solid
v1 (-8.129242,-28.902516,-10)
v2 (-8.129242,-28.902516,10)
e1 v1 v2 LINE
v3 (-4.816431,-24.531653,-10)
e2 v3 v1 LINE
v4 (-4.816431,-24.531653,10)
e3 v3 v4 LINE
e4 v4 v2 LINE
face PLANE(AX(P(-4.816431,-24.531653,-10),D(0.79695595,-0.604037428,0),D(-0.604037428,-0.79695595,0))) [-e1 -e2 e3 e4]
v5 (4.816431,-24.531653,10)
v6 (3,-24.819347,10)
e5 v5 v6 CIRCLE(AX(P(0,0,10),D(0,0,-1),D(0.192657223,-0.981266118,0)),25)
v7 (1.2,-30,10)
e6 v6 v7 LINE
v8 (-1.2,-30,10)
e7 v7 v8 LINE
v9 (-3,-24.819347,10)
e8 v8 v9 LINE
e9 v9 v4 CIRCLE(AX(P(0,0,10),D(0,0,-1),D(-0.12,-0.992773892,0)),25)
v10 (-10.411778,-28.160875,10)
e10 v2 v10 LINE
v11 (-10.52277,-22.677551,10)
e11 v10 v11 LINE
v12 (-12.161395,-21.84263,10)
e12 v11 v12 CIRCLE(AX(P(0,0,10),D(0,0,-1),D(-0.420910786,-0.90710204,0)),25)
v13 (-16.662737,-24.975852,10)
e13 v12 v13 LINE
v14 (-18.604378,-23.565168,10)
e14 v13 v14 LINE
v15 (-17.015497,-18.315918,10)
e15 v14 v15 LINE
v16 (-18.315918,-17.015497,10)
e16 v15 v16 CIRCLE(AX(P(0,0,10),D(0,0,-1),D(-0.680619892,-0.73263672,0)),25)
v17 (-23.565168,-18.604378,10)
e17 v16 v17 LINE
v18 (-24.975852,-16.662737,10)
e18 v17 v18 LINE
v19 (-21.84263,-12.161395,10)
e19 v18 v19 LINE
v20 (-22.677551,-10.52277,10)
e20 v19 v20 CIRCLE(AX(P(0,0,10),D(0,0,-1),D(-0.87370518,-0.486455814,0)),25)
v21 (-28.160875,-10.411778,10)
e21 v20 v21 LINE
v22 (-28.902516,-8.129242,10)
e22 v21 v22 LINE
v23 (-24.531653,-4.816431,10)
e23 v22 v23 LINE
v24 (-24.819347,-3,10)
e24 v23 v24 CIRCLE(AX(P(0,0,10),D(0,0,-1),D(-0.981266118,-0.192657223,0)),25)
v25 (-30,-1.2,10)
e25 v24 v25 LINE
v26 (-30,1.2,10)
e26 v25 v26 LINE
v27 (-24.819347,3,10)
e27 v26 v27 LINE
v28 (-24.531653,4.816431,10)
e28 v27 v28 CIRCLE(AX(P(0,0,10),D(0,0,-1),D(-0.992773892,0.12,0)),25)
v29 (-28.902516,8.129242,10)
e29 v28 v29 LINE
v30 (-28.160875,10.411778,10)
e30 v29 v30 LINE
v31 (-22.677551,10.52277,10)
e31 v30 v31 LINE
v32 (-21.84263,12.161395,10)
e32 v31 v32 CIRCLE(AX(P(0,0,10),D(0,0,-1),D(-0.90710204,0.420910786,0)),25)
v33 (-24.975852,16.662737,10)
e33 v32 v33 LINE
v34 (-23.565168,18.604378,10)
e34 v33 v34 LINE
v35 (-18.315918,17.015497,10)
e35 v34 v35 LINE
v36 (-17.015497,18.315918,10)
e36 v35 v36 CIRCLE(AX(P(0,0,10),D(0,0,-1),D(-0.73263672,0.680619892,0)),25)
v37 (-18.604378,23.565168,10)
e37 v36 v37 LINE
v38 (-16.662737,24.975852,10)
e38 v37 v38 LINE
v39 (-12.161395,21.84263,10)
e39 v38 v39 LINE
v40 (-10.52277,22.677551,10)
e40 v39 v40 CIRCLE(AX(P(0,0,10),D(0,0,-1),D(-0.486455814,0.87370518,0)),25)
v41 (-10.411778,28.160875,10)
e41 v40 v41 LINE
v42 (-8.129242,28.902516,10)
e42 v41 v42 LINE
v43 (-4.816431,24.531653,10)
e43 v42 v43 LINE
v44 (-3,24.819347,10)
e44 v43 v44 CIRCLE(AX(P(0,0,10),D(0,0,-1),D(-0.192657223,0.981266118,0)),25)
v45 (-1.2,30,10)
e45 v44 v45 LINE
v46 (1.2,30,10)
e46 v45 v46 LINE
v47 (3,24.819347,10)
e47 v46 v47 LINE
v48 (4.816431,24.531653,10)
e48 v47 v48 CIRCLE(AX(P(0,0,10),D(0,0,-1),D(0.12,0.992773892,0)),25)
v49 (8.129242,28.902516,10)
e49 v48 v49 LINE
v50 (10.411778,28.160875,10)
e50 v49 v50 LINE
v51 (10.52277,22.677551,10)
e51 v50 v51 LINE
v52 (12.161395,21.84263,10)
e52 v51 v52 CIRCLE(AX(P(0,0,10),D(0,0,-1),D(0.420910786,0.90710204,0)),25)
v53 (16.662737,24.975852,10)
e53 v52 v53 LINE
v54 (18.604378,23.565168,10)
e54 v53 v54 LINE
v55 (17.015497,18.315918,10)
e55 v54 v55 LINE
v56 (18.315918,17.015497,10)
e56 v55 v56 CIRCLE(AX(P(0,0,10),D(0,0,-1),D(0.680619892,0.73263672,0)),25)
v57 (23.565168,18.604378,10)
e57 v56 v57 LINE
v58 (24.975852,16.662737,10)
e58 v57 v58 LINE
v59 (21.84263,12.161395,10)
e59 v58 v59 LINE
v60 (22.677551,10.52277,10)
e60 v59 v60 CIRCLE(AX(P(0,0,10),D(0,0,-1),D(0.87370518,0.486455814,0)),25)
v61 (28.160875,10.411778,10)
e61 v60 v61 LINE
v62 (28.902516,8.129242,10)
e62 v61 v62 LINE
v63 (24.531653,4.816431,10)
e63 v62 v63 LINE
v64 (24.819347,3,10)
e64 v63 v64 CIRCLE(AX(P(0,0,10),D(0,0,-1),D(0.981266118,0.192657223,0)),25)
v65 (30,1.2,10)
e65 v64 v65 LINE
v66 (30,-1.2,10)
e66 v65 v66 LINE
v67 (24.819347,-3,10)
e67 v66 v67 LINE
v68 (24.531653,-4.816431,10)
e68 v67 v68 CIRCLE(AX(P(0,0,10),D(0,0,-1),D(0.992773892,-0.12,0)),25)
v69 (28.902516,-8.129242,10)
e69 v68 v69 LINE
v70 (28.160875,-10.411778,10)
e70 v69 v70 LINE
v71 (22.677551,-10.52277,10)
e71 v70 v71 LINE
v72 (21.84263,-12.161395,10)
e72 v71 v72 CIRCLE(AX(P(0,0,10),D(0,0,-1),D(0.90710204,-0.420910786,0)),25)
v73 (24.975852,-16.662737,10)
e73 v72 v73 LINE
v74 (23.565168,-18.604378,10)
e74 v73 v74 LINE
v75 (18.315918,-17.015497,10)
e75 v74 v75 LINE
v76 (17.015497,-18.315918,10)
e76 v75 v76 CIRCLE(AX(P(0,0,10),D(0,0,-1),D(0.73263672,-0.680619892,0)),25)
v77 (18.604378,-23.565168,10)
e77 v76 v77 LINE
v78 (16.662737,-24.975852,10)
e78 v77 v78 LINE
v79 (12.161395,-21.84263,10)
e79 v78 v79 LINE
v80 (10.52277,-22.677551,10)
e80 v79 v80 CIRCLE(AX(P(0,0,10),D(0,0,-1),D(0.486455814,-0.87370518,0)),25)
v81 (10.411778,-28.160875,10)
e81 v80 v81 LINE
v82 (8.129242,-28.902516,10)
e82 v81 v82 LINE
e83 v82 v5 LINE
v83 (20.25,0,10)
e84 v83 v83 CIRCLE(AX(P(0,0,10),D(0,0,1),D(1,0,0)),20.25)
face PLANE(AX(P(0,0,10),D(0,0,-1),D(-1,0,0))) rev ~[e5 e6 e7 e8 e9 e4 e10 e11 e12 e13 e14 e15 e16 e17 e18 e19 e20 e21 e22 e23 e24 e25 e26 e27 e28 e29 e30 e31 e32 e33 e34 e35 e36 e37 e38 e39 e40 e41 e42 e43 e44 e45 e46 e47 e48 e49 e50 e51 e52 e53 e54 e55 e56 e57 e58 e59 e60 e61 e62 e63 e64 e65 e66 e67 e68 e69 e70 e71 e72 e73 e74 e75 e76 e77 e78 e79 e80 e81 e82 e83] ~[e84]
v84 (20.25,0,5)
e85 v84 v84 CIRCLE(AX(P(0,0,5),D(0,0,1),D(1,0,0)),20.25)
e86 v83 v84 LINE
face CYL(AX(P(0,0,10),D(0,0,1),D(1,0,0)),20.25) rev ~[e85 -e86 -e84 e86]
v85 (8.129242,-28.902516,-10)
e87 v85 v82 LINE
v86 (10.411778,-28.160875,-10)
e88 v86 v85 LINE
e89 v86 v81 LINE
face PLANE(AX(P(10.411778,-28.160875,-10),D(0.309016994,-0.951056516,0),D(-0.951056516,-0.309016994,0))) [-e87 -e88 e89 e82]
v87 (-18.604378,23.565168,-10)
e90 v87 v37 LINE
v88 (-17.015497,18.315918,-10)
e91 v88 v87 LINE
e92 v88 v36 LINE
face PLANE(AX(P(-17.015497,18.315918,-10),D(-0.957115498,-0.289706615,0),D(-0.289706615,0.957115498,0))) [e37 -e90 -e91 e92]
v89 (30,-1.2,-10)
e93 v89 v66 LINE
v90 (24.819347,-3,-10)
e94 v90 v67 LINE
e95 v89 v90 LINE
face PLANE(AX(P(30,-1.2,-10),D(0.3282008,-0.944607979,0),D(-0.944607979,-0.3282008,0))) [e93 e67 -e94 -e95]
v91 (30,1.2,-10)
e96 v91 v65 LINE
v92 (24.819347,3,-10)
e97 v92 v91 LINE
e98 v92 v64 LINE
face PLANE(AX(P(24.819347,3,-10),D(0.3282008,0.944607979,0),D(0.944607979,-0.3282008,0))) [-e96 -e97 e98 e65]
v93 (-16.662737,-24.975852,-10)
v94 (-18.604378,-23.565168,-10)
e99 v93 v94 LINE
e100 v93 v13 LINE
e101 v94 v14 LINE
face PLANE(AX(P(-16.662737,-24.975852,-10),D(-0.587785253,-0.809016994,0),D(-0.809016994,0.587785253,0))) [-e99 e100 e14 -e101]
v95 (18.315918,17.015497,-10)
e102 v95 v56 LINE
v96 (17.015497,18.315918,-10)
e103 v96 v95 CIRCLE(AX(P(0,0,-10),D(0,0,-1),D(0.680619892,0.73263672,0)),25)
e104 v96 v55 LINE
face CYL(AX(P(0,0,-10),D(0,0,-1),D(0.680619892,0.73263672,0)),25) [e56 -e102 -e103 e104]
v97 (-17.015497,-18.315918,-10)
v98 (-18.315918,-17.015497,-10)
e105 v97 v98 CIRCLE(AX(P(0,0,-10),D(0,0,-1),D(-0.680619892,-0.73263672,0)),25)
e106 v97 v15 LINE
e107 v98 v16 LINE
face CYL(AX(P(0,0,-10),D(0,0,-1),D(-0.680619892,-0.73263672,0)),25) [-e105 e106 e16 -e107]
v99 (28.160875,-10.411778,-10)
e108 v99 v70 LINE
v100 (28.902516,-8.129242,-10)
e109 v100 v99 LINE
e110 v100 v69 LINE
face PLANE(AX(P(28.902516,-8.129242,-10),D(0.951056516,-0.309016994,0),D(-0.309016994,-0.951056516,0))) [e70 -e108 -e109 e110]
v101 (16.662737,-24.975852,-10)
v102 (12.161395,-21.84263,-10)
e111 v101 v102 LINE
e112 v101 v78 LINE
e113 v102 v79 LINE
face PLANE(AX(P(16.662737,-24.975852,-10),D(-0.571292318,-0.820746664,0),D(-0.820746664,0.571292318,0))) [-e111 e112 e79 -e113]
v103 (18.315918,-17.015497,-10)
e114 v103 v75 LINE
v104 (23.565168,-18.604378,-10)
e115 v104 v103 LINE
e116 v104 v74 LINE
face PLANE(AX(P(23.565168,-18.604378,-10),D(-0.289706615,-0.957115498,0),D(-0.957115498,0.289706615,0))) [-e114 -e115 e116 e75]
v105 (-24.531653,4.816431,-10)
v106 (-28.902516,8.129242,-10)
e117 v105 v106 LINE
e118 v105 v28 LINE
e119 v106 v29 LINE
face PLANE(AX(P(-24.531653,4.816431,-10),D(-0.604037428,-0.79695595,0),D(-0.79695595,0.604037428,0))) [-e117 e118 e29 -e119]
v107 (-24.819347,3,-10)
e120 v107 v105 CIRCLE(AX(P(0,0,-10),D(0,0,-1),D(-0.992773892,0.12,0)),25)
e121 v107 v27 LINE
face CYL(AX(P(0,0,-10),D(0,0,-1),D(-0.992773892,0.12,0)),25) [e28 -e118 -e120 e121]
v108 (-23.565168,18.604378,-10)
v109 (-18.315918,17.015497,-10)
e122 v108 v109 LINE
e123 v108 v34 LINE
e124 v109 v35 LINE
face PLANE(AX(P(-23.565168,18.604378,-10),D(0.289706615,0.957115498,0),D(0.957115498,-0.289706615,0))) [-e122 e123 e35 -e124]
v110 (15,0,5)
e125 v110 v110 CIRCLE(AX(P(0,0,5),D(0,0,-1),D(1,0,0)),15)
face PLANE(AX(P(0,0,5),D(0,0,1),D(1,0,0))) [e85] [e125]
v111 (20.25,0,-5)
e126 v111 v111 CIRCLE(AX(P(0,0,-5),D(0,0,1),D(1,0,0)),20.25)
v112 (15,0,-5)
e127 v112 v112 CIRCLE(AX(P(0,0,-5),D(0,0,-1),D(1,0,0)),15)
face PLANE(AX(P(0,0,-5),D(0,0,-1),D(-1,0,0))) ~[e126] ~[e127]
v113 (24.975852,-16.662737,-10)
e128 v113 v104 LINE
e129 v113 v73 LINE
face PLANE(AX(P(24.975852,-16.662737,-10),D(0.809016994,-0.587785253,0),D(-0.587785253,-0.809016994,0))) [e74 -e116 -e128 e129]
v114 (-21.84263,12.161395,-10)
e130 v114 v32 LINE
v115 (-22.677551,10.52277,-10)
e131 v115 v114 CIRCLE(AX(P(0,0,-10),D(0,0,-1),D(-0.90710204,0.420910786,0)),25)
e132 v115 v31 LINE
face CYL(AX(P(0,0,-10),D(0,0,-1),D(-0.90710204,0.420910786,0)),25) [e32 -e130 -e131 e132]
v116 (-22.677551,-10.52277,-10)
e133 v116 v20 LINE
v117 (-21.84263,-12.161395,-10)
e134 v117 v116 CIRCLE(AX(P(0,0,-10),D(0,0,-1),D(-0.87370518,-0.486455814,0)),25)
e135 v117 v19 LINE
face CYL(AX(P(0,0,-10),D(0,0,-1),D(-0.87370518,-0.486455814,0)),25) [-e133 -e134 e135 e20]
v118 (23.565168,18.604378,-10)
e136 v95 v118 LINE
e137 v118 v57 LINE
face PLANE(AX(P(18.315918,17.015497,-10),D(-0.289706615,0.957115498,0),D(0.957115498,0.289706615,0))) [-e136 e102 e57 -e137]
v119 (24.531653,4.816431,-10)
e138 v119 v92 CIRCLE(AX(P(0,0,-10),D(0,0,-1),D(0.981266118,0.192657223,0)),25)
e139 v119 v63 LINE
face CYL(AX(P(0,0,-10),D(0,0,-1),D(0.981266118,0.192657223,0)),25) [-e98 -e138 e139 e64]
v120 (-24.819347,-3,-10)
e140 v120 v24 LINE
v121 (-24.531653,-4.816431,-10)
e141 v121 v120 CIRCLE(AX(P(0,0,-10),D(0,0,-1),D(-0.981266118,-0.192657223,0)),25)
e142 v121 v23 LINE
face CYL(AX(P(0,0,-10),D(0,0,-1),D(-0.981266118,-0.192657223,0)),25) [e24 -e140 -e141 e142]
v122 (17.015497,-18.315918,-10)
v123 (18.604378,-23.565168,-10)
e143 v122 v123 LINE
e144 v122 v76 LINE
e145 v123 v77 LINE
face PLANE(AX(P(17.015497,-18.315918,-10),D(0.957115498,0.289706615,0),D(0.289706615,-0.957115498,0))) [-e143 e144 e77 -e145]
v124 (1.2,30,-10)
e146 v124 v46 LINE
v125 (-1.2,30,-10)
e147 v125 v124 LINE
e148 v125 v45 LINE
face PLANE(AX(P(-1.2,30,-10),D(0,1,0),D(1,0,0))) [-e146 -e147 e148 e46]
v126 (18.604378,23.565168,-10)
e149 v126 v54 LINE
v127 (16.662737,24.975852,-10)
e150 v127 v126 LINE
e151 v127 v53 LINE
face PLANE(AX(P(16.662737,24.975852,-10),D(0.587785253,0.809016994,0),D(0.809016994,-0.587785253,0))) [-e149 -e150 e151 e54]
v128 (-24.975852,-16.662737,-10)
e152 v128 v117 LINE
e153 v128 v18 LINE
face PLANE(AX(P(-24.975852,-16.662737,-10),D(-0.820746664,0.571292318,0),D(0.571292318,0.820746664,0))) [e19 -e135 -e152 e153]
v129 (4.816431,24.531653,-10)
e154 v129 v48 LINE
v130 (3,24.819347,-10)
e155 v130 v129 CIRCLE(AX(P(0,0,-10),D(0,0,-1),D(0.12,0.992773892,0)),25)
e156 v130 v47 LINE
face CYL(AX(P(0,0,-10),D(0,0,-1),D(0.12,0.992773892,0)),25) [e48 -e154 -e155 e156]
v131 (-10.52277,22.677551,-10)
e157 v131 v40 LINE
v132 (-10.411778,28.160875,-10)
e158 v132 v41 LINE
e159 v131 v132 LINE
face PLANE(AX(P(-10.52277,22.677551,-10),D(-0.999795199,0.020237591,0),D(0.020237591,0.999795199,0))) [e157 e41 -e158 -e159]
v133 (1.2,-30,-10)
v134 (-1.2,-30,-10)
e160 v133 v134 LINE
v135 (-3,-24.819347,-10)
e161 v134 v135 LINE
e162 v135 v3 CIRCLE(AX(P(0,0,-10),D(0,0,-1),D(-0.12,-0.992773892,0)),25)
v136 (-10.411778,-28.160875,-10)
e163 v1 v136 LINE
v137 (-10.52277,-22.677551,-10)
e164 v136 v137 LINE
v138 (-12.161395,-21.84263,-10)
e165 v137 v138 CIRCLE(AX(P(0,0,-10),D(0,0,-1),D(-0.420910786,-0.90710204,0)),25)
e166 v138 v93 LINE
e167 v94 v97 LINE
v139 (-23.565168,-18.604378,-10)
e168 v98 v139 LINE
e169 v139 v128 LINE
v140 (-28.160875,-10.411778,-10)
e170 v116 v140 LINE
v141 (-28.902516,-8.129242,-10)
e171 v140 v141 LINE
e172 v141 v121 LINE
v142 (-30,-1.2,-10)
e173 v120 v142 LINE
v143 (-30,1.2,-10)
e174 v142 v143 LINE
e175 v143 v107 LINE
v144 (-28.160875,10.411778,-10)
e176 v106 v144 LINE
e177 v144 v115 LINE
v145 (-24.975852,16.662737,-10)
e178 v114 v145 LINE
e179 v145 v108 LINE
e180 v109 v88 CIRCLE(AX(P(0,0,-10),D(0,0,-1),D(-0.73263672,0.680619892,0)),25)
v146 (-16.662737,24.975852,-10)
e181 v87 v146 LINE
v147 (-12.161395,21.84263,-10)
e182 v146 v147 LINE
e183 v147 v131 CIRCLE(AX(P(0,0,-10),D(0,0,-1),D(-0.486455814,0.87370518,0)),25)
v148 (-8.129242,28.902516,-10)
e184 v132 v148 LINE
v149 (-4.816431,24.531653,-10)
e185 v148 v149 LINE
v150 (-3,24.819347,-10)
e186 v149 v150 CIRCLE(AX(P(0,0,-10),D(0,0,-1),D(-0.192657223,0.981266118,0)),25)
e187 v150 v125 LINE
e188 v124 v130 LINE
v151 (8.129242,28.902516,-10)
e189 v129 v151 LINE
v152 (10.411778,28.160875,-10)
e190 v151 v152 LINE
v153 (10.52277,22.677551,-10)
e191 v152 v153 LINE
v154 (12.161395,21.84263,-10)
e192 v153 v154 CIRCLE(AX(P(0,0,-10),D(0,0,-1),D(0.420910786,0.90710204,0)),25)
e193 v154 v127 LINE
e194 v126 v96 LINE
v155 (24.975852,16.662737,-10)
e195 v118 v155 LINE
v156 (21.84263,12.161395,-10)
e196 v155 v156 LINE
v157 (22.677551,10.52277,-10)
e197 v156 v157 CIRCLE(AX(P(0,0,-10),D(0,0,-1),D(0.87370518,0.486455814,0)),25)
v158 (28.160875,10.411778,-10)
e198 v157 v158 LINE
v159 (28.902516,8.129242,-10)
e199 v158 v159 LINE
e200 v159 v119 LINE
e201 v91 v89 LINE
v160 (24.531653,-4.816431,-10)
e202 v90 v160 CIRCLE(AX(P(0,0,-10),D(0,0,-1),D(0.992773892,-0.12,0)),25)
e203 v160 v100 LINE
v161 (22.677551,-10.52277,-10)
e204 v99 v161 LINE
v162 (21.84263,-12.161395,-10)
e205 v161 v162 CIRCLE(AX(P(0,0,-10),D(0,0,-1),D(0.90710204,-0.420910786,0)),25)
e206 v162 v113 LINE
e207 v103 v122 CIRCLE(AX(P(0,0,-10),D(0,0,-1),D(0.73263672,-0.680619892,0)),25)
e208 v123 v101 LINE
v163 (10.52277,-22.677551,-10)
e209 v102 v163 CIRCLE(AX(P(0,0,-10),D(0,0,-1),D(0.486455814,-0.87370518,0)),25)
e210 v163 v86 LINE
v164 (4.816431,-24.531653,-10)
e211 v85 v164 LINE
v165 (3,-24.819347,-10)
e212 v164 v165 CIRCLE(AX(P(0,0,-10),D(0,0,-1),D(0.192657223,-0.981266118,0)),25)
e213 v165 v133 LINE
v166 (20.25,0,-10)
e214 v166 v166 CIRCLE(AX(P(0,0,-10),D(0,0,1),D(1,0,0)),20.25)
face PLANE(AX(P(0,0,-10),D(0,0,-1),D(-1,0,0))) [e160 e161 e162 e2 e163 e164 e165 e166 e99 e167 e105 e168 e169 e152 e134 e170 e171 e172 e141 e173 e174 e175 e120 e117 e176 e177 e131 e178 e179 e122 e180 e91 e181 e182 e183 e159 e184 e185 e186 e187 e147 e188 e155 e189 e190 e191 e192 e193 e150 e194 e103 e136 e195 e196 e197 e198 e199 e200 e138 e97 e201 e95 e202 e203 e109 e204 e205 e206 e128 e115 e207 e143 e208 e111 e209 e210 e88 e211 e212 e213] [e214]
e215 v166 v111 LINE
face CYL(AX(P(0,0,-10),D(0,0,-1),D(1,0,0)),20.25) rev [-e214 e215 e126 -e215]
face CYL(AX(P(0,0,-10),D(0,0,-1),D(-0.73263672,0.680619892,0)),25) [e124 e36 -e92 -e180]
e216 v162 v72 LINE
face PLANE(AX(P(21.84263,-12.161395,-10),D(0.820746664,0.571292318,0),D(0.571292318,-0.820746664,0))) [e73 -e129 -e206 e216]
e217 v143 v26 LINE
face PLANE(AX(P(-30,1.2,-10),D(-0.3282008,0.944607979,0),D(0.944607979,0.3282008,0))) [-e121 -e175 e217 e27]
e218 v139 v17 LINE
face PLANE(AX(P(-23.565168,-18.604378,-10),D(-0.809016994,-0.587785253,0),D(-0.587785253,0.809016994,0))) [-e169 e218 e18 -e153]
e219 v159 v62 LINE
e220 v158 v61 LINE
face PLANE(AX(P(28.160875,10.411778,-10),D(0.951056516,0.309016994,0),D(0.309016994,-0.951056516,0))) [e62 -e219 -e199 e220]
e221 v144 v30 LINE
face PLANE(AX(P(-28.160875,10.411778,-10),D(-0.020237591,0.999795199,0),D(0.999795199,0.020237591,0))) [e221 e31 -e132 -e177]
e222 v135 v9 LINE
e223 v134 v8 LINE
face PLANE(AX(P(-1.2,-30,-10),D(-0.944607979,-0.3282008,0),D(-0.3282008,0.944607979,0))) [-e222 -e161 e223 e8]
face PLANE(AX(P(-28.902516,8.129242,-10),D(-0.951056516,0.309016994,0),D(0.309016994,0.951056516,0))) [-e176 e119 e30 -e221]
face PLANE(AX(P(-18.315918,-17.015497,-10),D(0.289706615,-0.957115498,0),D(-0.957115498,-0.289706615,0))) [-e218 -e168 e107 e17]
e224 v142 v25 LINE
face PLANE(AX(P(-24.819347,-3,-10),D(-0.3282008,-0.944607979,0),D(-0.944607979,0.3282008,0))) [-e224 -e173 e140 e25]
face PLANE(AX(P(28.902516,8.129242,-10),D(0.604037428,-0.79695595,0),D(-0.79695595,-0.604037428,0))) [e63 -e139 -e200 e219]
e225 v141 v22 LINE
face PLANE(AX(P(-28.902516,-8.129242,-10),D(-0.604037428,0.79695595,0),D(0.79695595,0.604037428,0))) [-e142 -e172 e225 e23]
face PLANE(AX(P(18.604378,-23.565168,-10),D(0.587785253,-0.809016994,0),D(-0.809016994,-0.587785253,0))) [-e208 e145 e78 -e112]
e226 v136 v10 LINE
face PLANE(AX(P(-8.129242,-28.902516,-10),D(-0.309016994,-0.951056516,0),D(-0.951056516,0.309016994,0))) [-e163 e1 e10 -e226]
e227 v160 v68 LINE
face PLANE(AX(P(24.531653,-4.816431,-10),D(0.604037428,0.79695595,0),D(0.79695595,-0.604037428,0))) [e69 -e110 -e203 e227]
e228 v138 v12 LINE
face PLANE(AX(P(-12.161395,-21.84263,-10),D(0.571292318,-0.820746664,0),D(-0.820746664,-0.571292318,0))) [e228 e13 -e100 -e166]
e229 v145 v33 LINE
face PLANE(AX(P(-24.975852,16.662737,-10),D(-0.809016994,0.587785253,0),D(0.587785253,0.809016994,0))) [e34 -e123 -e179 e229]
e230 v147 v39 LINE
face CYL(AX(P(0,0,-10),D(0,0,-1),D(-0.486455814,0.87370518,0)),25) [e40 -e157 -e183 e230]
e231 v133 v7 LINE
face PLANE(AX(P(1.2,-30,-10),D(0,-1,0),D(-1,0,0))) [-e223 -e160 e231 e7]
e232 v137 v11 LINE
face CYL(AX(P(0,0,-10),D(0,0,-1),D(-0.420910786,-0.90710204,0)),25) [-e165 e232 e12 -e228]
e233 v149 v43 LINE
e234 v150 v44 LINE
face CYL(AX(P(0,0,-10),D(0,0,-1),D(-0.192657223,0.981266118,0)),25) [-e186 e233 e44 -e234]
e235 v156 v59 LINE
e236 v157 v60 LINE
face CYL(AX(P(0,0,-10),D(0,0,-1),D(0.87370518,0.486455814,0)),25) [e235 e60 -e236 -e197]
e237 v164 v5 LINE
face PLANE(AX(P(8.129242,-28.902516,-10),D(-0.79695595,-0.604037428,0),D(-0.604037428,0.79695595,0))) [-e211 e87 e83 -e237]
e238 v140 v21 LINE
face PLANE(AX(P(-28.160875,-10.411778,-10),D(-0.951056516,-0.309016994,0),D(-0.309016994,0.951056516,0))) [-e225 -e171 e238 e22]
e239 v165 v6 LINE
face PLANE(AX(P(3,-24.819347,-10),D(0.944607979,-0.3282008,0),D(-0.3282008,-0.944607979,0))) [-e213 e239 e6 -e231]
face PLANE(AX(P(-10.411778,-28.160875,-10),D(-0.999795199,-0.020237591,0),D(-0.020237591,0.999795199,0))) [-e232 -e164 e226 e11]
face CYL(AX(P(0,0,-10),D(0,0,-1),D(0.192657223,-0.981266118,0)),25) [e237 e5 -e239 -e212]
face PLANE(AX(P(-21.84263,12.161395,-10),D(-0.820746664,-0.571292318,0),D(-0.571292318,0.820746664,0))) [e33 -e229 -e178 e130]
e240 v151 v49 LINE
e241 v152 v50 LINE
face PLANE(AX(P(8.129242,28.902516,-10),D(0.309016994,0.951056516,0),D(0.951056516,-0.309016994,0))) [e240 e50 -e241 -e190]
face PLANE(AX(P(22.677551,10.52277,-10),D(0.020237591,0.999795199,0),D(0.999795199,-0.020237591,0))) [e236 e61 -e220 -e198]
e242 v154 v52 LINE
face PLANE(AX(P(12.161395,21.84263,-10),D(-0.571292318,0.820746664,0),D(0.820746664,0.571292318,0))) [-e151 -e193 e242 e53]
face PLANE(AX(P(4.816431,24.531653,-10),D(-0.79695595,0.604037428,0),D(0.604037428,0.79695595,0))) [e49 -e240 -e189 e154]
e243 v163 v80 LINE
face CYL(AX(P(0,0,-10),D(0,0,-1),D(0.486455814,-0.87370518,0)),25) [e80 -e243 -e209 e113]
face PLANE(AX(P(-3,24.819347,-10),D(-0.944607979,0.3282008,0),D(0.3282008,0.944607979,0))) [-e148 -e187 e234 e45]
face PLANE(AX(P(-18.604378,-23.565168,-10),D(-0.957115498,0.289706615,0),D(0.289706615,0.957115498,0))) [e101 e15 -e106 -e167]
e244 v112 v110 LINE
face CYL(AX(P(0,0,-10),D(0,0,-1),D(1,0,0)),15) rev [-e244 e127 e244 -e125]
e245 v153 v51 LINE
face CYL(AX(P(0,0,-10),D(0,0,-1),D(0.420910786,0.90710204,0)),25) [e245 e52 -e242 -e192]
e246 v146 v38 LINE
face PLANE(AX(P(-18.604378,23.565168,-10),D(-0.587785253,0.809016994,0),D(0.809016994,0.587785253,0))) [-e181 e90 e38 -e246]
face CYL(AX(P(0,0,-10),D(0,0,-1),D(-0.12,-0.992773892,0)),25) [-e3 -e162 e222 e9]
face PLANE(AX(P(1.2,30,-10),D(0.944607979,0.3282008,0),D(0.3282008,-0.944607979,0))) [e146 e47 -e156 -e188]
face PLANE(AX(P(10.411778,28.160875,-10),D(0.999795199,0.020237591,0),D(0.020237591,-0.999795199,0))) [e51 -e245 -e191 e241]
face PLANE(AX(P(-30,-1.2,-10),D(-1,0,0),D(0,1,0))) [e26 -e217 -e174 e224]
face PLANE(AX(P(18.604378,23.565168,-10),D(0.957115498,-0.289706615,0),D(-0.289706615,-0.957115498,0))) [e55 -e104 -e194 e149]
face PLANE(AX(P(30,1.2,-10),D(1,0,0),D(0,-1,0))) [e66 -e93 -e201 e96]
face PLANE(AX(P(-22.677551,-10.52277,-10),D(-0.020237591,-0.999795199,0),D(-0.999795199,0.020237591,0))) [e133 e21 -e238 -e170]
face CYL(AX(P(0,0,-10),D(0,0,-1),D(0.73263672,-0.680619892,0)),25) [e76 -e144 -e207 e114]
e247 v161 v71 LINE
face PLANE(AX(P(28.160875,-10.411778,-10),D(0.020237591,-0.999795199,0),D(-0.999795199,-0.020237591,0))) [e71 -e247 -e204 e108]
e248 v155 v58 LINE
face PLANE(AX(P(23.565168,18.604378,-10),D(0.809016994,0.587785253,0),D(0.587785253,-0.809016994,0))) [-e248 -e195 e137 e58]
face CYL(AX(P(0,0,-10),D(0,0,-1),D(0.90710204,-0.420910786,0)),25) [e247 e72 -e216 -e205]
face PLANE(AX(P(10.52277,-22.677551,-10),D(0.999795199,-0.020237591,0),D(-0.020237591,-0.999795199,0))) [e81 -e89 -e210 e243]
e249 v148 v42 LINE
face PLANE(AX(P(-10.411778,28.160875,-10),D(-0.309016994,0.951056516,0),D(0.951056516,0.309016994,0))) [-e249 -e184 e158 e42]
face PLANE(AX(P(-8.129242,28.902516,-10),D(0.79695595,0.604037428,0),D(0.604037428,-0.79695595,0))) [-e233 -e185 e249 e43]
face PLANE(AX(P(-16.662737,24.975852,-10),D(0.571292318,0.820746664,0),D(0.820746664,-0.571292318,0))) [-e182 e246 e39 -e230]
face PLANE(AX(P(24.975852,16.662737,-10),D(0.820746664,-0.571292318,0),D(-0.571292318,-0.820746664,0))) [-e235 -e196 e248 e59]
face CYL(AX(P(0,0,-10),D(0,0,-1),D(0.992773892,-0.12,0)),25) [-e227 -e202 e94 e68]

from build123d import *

# Parameters (mm, degrees)
BOSS_EXTRUDE1_DEPTH      = 10
BOSS_EXTRUDE1_DEPTH_BACK = 10
SKETCH1_R                = 15
SKETCH2_R                = 20.25
CUT_EXTRUDE1_DEPTH       = 5


with BuildPart() as part:
    # Sketch1 → Boss-Extrude1 (new, two sides: drawn at the far end of the back side and taken through both)
    with BuildSketch(Plane.XY.offset(-BOSS_EXTRUDE1_DEPTH_BACK)):
        with BuildLine():
            Line((-1.2, 30), (1.2, 30))
            Line((1.2, 30), (3, 24.819347292))
            ThreePointArc((3, 24.819347292), (3.910861626, 24.692208515), (4.816430554, 24.531652955))
            Line((4.816430554, 24.531652955), (8.129242012, 28.902515882))
            Line((8.129242012, 28.902515882), (10.411777651, 28.160875096))
            Line((10.411777651, 28.160875096), (10.522769651, 22.677550989))
            ThreePointArc((10.522769651, 22.677550989), (11.349762493, 22.275163105), (12.161395327, 21.842629505))
            Line((12.161395327, 21.842629505), (16.662737176, 24.975852134))
            Line((16.662737176, 24.975852134), (18.604377962, 23.565167528))
            Line((18.604377962, 23.565167528), (17.015497293, 18.315917992))
            ThreePointArc((17.015497293, 18.315917992), (17.67766953, 17.67766953), (18.315917992, 17.015497293))
            Line((18.315917992, 17.015497293), (23.565167528, 18.604377962))
            Line((23.565167528, 18.604377962), (24.975852134, 16.662737176))
            Line((24.975852134, 16.662737176), (21.842629505, 12.161395327))
            ThreePointArc((21.842629505, 12.161395327), (22.275163105, 11.349762493), (22.677550989, 10.522769651))
            Line((22.677550989, 10.522769651), (28.160875096, 10.411777651))
            Line((28.160875096, 10.411777651), (28.902515882, 8.129242012))
            Line((28.902515882, 8.129242012), (24.531652955, 4.816430554))
            ThreePointArc((24.531652955, 4.816430554), (24.692208515, 3.910861626), (24.819347292, 3))
            Line((24.819347292, 3), (30, 1.2))
            Line((30, 1.2), (30, -1.2))
            Line((30, -1.2), (24.819347292, -3))
            ThreePointArc((24.819347292, -3), (24.692208515, -3.910861626), (24.531652955, -4.816430554))
            Line((24.531652955, -4.816430554), (28.902515882, -8.129242012))
            Line((28.902515882, -8.129242012), (28.160875096, -10.411777651))
            Line((28.160875096, -10.411777651), (22.677550989, -10.522769651))
            ThreePointArc((22.677550989, -10.522769651), (22.275163105, -11.349762493), (21.842629505, -12.161395327))
            Line((21.842629505, -12.161395327), (24.975852134, -16.662737176))
            Line((24.975852134, -16.662737176), (23.565167528, -18.604377962))
            Line((23.565167528, -18.604377962), (18.315917992, -17.015497293))
            ThreePointArc((18.315917992, -17.015497293), (17.67766953, -17.67766953), (17.015497293, -18.315917992))
            Line((17.015497293, -18.315917992), (18.604377962, -23.565167528))
            Line((18.604377962, -23.565167528), (16.662737176, -24.975852134))
            Line((16.662737176, -24.975852134), (12.161395327, -21.842629505))
            ThreePointArc((12.161395327, -21.842629505), (11.349762493, -22.275163105), (10.522769651, -22.677550989))
            Line((10.522769651, -22.677550989), (10.411777651, -28.160875096))
            Line((10.411777651, -28.160875096), (8.129242012, -28.902515882))
            Line((8.129242012, -28.902515882), (4.816430554, -24.531652955))
            ThreePointArc((4.816430554, -24.531652955), (3.910861626, -24.692208515), (3, -24.819347292))
            Line((3, -24.819347292), (1.2, -30))
            Line((1.2, -30), (-1.2, -30))
            Line((-1.2, -30), (-3, -24.819347292))
            ThreePointArc((-3, -24.819347292), (-3.910861626, -24.692208515), (-4.816430554, -24.531652955))
            Line((-4.816430554, -24.531652955), (-8.129242012, -28.902515882))
            Line((-8.129242012, -28.902515882), (-10.411777651, -28.160875096))
            Line((-10.411777651, -28.160875096), (-10.522769651, -22.677550989))
            ThreePointArc((-10.522769651, -22.677550989), (-11.349762493, -22.275163105), (-12.161395327, -21.842629505))
            Line((-12.161395327, -21.842629505), (-16.662737176, -24.975852134))
            Line((-16.662737176, -24.975852134), (-18.604377962, -23.565167528))
            Line((-18.604377962, -23.565167528), (-17.015497293, -18.315917992))
            ThreePointArc((-17.015497293, -18.315917992), (-17.67766953, -17.67766953), (-18.315917992, -17.015497293))
            Line((-18.315917992, -17.015497293), (-23.565167528, -18.604377962))
            Line((-23.565167528, -18.604377962), (-24.975852134, -16.662737176))
            Line((-24.975852134, -16.662737176), (-21.842629505, -12.161395327))
            ThreePointArc((-21.842629505, -12.161395327), (-22.275163105, -11.349762493), (-22.677550989, -10.522769651))
            Line((-22.677550989, -10.522769651), (-28.160875096, -10.411777651))
            Line((-28.160875096, -10.411777651), (-28.902515882, -8.129242012))
            Line((-28.902515882, -8.129242012), (-24.531652955, -4.816430554))
            ThreePointArc((-24.531652955, -4.816430554), (-24.692208515, -3.910861626), (-24.819347292, -3))
            Line((-24.819347292, -3), (-30, -1.2))
            Line((-30, -1.2), (-30, 1.2))
            Line((-30, 1.2), (-24.819347292, 3))
            ThreePointArc((-24.819347292, 3), (-24.692208515, 3.910861626), (-24.531652955, 4.816430554))
            Line((-24.531652955, 4.816430554), (-28.902515882, 8.129242012))
            Line((-28.902515882, 8.129242012), (-28.160875096, 10.411777651))
            Line((-28.160875096, 10.411777651), (-22.677550989, 10.522769651))
            ThreePointArc((-22.677550989, 10.522769651), (-22.275163105, 11.349762493), (-21.842629505, 12.161395327))
            Line((-21.842629505, 12.161395327), (-24.975852134, 16.662737176))
            Line((-24.975852134, 16.662737176), (-23.565167528, 18.604377962))
            Line((-23.565167528, 18.604377962), (-18.315917992, 17.015497293))
            ThreePointArc((-18.315917992, 17.015497293), (-17.67766953, 17.67766953), (-17.015497293, 18.315917992))
            Line((-17.015497293, 18.315917992), (-18.604377962, 23.565167528))
            Line((-18.604377962, 23.565167528), (-16.662737176, 24.975852134))
            Line((-16.662737176, 24.975852134), (-12.161395327, 21.842629505))
            ThreePointArc((-12.161395327, 21.842629505), (-11.349762493, 22.275163105), (-10.522769651, 22.677550989))
            Line((-10.522769651, 22.677550989), (-10.411777651, 28.160875096))
            Line((-10.411777651, 28.160875096), (-8.129242012, 28.902515882))
            Line((-8.129242012, 28.902515882), (-4.816430554, 24.531652955))
            ThreePointArc((-4.816430554, 24.531652955), (-3.910861626, 24.692208515), (-3, 24.819347292))
            Line((-3, 24.819347292), (-1.2, 30))
        make_face()
        Circle(SKETCH1_R, mode=Mode.SUBTRACT)
    extrude(amount=BOSS_EXTRUDE1_DEPTH + BOSS_EXTRUDE1_DEPTH_BACK)

    # Sketch2 → Cut-Extrude1 (cut)
    with BuildSketch(Plane.XY.offset(10)):
        Circle(SKETCH2_R)
    cut_extrude1 = extrude(amount=-CUT_EXTRUDE1_DEPTH, mode=Mode.SUBTRACT)

    # Mirror1: Cut-Extrude1 across plane
    add(cut_extrude1.mirror(Plane.XY), mode=Mode.SUBTRACT)


solid = part.part
